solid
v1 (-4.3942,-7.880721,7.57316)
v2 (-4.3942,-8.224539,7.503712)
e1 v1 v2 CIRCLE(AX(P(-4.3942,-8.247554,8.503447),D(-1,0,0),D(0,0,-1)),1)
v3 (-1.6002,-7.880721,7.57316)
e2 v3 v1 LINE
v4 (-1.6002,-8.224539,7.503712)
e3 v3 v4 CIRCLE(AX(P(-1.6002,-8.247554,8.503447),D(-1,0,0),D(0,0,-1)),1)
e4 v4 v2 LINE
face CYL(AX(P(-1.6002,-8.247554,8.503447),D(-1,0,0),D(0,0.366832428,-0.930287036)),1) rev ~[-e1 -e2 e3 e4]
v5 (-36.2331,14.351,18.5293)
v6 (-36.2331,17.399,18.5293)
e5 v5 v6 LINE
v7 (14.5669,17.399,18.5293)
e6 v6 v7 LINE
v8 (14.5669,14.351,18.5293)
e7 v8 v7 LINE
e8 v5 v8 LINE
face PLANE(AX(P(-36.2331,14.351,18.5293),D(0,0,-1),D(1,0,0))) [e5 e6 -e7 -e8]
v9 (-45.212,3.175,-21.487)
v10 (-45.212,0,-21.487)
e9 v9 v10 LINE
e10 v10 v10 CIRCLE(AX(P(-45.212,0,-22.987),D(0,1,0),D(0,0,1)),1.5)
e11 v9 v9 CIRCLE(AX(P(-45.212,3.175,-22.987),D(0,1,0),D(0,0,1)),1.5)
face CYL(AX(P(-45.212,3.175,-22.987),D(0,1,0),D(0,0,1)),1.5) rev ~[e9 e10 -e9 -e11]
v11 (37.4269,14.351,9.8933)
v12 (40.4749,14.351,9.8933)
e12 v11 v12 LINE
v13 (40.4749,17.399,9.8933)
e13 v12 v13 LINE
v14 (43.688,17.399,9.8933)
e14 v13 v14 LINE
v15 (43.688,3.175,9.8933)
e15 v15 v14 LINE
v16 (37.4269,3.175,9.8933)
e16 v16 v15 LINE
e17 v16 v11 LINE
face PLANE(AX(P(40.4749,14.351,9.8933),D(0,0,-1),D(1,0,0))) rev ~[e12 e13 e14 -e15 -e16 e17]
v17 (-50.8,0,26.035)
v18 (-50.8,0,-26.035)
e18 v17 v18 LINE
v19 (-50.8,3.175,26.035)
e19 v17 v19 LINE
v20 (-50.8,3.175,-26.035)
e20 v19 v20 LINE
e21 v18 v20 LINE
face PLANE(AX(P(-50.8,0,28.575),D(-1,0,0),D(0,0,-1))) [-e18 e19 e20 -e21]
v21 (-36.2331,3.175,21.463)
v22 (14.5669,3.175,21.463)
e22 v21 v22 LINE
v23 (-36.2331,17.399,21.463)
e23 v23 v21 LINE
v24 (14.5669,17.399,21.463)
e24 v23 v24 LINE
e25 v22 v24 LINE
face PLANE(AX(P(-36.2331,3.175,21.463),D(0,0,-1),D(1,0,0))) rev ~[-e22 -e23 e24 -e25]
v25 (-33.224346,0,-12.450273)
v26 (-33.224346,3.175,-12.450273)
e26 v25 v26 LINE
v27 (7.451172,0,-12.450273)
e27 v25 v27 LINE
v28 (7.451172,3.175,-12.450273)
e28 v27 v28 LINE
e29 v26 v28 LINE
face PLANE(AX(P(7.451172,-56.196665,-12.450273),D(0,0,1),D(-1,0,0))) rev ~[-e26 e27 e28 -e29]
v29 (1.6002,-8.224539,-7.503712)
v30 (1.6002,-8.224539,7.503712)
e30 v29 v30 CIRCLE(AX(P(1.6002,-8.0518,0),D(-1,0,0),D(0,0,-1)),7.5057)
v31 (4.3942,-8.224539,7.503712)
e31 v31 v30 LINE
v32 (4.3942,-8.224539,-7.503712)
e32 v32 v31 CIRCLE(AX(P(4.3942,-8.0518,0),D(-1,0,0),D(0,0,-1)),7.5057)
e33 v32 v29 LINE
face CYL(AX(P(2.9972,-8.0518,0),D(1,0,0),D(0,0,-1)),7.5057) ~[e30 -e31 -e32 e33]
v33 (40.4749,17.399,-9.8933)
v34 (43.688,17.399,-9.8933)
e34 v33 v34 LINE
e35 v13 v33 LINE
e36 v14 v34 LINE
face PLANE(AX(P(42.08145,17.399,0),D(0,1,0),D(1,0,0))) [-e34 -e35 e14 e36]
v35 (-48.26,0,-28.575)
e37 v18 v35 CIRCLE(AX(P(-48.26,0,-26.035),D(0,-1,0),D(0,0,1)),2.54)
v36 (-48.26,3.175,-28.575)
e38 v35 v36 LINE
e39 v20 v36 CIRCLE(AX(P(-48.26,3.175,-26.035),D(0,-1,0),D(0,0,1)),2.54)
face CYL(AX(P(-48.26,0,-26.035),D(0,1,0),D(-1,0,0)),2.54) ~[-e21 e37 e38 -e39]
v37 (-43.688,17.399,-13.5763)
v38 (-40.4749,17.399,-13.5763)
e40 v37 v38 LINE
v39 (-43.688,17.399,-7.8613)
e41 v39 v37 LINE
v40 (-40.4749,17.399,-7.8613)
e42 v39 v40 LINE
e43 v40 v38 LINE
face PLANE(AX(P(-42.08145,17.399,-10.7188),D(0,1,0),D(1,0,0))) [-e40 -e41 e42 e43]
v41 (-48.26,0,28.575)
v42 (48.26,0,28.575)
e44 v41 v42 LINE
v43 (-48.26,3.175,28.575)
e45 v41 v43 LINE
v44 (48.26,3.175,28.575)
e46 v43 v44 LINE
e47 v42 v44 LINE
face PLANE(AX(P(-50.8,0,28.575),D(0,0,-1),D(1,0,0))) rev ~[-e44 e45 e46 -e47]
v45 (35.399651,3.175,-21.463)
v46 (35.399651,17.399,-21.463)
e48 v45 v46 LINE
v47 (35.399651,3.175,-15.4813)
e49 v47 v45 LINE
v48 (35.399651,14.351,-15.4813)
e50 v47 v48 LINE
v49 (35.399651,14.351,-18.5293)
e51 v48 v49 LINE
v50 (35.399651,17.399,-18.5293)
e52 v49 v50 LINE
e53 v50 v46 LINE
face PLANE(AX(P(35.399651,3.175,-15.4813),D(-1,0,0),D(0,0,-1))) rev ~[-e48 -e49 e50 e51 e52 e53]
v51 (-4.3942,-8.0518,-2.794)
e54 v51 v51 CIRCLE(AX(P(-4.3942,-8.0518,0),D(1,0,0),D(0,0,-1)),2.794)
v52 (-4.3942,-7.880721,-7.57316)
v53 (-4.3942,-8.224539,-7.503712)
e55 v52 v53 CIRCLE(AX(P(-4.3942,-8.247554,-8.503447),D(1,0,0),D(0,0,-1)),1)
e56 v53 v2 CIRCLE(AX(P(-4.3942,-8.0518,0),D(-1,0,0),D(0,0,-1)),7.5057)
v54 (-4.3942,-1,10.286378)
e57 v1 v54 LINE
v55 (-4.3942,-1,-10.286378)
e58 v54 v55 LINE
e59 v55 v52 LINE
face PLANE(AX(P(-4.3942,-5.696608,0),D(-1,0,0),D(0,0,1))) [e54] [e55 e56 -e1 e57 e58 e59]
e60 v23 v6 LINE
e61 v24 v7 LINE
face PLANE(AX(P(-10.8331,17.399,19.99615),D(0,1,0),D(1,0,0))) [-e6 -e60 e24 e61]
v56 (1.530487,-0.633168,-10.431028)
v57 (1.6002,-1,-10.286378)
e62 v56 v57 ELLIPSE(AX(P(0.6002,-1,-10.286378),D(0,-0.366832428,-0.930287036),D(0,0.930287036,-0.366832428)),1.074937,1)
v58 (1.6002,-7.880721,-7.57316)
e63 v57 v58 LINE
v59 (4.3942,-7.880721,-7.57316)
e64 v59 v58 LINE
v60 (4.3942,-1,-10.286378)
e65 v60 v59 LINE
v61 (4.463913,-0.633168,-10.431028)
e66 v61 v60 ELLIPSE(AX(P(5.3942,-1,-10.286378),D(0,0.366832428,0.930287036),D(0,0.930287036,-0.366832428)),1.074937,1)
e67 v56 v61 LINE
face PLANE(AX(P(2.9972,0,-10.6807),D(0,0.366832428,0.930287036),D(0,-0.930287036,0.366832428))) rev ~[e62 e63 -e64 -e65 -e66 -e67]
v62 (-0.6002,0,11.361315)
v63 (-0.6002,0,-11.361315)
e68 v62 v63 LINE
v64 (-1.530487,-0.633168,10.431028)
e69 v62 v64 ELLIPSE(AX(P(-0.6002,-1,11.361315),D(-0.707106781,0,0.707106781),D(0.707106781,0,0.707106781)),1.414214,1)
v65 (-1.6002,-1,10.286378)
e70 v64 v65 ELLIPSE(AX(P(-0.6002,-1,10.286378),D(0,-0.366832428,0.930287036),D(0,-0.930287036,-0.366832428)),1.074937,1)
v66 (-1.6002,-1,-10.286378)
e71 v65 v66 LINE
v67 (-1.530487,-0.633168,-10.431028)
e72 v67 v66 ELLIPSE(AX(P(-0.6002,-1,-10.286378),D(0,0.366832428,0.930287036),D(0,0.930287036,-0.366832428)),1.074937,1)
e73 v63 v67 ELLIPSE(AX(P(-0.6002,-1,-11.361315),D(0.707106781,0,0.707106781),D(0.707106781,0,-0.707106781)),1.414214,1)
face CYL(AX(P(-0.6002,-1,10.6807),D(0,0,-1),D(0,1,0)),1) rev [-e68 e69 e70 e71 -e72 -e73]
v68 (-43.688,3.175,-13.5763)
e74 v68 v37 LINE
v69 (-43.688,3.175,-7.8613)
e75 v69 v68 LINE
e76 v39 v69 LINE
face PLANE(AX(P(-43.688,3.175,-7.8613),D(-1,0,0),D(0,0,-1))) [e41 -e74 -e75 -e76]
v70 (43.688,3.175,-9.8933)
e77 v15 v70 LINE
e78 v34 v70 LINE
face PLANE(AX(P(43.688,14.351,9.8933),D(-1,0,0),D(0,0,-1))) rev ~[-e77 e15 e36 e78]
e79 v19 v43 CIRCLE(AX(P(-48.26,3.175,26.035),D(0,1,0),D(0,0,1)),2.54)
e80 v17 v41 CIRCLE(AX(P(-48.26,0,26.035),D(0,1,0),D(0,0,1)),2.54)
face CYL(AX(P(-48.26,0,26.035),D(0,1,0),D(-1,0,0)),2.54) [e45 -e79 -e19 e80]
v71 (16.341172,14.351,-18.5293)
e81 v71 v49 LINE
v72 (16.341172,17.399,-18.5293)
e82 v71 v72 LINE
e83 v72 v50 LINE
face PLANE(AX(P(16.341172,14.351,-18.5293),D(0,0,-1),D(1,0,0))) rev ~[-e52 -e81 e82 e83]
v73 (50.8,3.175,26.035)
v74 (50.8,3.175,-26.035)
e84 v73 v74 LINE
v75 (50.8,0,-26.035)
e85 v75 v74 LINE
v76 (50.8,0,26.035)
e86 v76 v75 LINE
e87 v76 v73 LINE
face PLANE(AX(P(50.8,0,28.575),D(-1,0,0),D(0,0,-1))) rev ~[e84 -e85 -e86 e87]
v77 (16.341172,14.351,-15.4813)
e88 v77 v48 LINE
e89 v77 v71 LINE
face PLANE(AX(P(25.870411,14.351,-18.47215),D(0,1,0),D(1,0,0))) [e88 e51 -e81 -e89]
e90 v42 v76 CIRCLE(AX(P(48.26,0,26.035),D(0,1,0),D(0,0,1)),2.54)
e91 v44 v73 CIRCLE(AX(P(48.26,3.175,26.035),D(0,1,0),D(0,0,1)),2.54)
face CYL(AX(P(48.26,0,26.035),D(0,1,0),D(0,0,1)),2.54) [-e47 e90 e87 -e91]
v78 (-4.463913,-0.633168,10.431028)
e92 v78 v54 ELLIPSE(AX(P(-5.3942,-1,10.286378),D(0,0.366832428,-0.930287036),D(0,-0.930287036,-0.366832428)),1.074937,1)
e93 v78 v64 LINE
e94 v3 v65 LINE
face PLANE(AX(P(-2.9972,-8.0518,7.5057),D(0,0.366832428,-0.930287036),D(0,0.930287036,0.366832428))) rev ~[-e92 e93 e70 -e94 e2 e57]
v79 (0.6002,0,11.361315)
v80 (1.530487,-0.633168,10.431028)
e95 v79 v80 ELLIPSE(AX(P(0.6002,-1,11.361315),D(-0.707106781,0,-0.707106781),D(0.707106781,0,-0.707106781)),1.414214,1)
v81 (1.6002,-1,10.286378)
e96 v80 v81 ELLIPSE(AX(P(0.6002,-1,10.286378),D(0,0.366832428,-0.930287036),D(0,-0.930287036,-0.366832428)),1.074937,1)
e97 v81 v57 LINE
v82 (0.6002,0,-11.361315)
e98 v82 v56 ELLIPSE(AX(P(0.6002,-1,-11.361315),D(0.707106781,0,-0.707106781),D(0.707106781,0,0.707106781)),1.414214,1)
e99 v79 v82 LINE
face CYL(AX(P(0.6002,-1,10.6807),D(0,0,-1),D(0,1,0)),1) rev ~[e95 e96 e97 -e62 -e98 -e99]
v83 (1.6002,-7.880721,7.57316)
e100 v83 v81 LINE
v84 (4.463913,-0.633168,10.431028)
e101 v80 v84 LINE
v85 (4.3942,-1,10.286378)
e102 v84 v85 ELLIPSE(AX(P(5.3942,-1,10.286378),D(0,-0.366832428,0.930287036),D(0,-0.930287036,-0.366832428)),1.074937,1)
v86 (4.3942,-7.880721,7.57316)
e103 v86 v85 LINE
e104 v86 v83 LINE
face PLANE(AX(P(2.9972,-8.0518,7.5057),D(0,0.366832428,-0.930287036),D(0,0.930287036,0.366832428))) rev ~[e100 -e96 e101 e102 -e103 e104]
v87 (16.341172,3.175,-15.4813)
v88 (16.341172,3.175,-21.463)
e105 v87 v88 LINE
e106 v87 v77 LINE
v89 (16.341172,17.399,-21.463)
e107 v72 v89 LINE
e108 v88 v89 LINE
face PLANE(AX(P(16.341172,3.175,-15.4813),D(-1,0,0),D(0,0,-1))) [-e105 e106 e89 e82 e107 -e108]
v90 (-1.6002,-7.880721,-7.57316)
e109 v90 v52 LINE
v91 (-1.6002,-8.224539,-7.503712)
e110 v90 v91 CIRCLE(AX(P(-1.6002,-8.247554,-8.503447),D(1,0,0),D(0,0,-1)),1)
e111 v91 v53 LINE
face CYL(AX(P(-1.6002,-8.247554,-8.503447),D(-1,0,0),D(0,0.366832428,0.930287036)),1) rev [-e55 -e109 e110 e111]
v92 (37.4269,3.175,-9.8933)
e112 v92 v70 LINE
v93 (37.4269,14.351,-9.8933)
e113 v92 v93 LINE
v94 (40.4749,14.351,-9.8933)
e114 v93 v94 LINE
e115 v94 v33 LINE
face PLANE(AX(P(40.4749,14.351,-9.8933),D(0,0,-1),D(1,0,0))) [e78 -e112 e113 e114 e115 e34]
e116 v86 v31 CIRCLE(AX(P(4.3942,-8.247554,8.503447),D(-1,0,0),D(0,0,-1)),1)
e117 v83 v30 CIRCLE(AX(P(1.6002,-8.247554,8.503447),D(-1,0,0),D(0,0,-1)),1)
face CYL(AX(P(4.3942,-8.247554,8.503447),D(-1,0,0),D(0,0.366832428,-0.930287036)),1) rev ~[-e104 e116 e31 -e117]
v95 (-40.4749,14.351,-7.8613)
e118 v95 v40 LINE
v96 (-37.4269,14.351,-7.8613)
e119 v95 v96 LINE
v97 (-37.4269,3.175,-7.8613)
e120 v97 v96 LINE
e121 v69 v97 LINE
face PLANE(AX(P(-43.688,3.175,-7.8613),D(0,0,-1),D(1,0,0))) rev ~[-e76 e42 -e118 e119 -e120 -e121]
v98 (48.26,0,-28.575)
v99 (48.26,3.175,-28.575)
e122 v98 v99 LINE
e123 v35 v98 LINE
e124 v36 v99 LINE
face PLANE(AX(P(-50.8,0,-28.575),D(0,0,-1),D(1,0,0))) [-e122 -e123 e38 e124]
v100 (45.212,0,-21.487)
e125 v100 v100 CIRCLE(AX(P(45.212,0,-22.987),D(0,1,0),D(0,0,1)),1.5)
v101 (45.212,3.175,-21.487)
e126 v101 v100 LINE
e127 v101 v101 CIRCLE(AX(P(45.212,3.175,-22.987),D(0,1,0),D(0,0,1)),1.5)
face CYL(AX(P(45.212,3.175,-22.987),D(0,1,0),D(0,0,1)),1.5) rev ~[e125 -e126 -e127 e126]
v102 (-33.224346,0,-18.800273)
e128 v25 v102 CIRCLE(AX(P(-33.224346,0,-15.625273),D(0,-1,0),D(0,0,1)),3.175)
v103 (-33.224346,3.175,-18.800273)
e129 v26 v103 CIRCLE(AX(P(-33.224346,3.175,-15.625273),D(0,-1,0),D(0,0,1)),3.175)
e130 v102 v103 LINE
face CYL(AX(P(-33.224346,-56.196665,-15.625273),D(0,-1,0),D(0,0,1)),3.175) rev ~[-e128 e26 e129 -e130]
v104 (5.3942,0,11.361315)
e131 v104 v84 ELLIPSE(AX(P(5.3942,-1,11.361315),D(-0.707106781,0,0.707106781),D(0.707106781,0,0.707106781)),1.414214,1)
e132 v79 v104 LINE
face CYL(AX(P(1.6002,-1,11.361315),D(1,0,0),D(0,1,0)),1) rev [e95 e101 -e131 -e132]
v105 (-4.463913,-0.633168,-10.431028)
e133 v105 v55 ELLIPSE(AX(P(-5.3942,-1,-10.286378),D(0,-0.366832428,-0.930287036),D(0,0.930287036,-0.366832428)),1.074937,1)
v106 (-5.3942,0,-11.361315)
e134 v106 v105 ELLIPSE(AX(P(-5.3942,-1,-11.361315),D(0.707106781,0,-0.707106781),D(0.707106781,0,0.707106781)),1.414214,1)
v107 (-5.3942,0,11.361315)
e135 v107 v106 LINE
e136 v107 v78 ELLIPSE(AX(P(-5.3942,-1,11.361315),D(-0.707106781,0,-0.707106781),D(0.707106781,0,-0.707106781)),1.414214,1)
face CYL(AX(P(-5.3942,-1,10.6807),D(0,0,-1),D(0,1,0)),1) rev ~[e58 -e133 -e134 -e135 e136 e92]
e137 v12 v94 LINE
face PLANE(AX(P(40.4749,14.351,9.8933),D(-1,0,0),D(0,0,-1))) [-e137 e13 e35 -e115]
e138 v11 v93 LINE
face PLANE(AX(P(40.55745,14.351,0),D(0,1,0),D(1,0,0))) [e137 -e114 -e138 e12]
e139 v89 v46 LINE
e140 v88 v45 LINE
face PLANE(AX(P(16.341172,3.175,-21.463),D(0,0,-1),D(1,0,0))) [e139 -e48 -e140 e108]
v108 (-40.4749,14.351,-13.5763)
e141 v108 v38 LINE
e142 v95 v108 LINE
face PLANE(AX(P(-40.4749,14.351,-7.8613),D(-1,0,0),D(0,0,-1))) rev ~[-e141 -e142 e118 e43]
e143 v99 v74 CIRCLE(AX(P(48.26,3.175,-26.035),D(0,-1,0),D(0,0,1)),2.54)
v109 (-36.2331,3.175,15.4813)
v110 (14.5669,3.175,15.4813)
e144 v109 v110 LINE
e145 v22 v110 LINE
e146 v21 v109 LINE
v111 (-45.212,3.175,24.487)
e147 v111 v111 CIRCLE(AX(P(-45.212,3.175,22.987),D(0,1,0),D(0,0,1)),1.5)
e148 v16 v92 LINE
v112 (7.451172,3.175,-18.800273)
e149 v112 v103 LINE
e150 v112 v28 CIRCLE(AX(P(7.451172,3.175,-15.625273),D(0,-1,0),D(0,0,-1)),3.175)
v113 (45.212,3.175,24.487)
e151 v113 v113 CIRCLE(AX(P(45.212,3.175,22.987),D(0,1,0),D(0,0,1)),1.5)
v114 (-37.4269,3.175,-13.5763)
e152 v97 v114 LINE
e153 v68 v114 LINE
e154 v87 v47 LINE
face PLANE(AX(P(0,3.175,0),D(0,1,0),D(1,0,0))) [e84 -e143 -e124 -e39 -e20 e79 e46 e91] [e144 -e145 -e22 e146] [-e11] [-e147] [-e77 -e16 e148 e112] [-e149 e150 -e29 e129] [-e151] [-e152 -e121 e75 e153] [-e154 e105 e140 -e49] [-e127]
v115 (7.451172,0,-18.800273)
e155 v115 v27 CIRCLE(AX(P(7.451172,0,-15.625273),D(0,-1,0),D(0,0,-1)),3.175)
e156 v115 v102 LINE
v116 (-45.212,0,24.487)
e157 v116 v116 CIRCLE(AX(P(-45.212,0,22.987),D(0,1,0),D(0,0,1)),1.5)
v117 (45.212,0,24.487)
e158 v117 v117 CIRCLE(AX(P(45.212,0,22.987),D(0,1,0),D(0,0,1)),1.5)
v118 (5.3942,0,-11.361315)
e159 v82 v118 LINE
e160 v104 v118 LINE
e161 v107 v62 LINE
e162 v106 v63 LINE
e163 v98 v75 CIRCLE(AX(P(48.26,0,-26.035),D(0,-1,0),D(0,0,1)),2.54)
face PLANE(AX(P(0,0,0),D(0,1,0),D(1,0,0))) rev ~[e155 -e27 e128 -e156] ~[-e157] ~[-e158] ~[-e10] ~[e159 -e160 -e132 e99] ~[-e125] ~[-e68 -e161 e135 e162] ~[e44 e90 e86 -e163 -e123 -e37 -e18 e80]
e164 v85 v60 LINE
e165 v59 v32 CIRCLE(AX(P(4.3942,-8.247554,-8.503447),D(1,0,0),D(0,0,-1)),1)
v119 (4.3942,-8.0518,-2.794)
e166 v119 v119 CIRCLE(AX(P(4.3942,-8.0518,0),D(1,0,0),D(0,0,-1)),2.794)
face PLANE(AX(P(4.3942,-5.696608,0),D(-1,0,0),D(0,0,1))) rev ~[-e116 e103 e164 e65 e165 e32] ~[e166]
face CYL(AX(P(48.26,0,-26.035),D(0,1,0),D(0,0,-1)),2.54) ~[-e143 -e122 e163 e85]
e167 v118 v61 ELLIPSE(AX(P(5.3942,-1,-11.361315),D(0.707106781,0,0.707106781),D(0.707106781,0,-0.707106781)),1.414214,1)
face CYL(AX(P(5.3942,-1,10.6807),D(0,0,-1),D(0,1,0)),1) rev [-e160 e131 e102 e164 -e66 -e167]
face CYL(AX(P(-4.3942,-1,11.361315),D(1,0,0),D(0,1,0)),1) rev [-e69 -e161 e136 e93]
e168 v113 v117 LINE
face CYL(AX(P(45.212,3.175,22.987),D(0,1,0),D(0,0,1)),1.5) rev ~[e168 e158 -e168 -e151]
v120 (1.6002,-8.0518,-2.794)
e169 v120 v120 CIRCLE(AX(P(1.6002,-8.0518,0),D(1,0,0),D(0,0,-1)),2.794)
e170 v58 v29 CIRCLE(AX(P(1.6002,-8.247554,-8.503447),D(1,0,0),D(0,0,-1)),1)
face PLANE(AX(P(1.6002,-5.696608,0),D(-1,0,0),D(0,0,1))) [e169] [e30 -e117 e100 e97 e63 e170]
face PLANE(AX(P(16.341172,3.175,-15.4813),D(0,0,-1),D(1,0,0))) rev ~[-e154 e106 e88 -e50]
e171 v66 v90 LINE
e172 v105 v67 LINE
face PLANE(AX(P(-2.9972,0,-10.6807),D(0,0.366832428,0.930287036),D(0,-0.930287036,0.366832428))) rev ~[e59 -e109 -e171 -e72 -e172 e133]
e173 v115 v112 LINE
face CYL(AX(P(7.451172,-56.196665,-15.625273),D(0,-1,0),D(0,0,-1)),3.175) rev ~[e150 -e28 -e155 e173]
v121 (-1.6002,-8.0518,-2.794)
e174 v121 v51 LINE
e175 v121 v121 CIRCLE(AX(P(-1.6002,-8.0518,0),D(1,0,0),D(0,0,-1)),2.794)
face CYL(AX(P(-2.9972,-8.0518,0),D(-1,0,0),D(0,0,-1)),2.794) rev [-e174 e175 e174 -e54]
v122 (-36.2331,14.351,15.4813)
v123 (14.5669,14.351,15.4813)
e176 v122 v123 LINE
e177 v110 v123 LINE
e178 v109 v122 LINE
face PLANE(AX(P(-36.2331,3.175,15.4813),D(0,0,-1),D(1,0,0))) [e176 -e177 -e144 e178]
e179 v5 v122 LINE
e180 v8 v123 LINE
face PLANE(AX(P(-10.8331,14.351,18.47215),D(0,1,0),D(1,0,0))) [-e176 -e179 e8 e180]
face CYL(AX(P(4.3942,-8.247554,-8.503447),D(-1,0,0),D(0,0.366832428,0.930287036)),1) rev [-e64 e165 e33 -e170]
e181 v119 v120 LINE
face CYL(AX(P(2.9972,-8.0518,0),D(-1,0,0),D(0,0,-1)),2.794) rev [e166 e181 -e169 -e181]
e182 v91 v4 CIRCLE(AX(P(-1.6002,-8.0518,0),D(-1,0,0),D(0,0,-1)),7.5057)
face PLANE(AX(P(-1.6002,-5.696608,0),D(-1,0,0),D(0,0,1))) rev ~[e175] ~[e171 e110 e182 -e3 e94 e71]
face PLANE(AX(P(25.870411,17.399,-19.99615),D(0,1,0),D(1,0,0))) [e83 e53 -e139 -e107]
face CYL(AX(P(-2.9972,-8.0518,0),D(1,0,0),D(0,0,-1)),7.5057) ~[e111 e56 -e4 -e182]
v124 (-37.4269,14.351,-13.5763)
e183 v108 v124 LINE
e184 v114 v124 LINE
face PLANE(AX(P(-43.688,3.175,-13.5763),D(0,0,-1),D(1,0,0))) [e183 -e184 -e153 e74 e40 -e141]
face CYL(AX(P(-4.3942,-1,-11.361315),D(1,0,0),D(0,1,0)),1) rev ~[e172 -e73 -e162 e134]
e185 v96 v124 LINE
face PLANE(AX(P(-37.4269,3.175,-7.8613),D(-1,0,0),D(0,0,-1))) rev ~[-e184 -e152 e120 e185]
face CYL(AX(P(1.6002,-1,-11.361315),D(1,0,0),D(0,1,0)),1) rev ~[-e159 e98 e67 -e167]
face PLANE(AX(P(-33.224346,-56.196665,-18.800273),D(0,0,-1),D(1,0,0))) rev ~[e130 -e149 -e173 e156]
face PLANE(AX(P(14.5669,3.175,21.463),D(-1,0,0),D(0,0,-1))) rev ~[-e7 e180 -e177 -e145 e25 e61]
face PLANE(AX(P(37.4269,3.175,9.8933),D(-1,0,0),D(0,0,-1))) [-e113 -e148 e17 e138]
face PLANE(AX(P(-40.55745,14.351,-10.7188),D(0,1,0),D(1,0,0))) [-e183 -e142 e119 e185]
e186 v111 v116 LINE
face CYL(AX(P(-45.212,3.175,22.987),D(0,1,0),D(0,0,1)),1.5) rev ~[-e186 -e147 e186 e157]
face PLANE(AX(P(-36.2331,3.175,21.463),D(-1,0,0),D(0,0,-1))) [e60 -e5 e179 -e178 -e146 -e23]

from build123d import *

# Parameters (mm, degrees)
SKETCH1_W               = 101.6
SKETCH1_H               = 57.15
BOSS_EXTRUDE1_DEPTH     = 3.175
SKETCH10_R              = 1.5
CUT_EXTRUDE3_DEPTH      = 59.371664787
FILLET1_R               = 2.54
CUT_EXTRUDE4_DEPTH      = 59.371664787
CUT_EXTRUDE4_DEPTH_BACK = 59.371664787
SKETCH12_R              = 2.794
BOSS_EXTRUDE3_DEPTH     = 1.397
SKETCH13_R              = 2.794
BOSS_EXTRUDE4_DEPTH     = 1.397
FILLET4_R               = 1
SKETCH14_W              = 50.8
SKETCH14_H              = 5.9817
SKETCH14_W_2            = 19.058479039
SKETCH14_W_3            = 6.2611
SKETCH14_H_2            = 19.7866
SKETCH14_H_3            = 5.715
BOSS_EXTRUDE5_DEPTH     = 11.176
SKETCH15_W              = 3.2131
SKETCH15_H              = 19.7866
SKETCH15_W_2            = 19.058479039
SKETCH15_H_2            = 2.9337
SKETCH15_H_3            = 5.715
SKETCH15_W_3            = 50.8
BOSS_EXTRUDE6_DEPTH     = 3.048


with BuildPart() as part:
    # Sketch1 → Boss-Extrude1 (new body)
    with BuildSketch(Plane(origin=(0, 0, 0), x_dir=(1, 0, 0), z_dir=(0, 1, 0))):
        Rectangle(SKETCH1_W, SKETCH1_H)
    extrude(amount=BOSS_EXTRUDE1_DEPTH)

    # Sketch10 → Cut-Extrude3 (cut, through all)
    with BuildSketch(Plane(origin=(0, 3.175, 0), x_dir=(1, 0, 0), z_dir=(0, 1, 0))):
        with Locations(Location((-45.212, -22.987, 0), (0, 0, 270))):
            Circle(SKETCH10_R)
        with Locations(Location((45.212, 22.987, 0), (0, 0, 270))):
            Circle(SKETCH10_R)
        with Locations(Location((-45.212, 22.987, 0), (0, 0, 270))):
            Circle(SKETCH10_R)
        with Locations(Location((45.212, -22.987, 0), (0, 0, 270))):
            Circle(SKETCH10_R)
    extrude(amount=-CUT_EXTRUDE3_DEPTH, mode=Mode.SUBTRACT)

    # Fillet1
    fillet1_edges = [part.edges().sort_by_distance(p)[0] for p in [
        (-50.8, 1.5875, -28.575),
        (50.8, 1.5875, -28.575),
        (50.8, 1.5875, 28.575),
        (-50.8, 1.5875, 28.575),
    ]]
    fillet(fillet1_edges, radius=FILLET1_R)

    # Sketch11 → Cut-Extrude4 (cut, two sides: drawn at the far end of the back side and taken through both)
    with BuildSketch(Plane(origin=(0, 3.175, 0), x_dir=(1, 0, 0), z_dir=(0, 1, 0)).offset(-CUT_EXTRUDE4_DEPTH_BACK)):
        with BuildLine():
            Line((-33.224345588, 18.800272814), (7.451171928, 18.800272814))
            ThreePointArc((7.451171928, 18.800272814), (10.626171928, 15.625272814), (7.451171928, 12.450272814))
            Line((7.451171928, 12.450272814), (-33.224345588, 12.450272814))
            ThreePointArc((-33.224345588, 12.450272814), (-36.399345588, 15.625272814), (-33.224345588, 18.800272814))
        make_face()
    extrude(amount=CUT_EXTRUDE4_DEPTH + CUT_EXTRUDE4_DEPTH_BACK, mode=Mode.SUBTRACT)

    # Sketch12 → Boss-Extrude3 (add, symmetric)
    with BuildSketch(Plane(origin=(2.9972, 0, 0), x_dir=(0, 0, -1), z_dir=(1, 0, 0))):
        with BuildLine():
            Line((-7.5057, 0), (7.5057, 0))
            Line((7.5057, 0), (10.6807, 0))
            Line((10.6807, 0), (7.5057, -8.0518))
            ThreePointArc((7.5057, -8.0518), (0, -15.5575), (-7.5057, -8.0518))
            Line((-7.5057, -8.0518), (-10.6807, 0))
            Line((-10.6807, 0), (-7.5057, 0))
        make_face()
        with Locations((0, -8.0518)):
            Circle(SKETCH12_R, mode=Mode.SUBTRACT)
    extrude(amount=BOSS_EXTRUDE3_DEPTH, both=True)

    # Sketch13 → Boss-Extrude4 (add, symmetric)
    with BuildSketch(Plane(origin=(-2.9972, 0, 0), x_dir=(0, 0, -1), z_dir=(1, 0, 0))):
        with BuildLine():
            Line((-7.5057, 0), (7.5057, 0))
            Line((7.5057, 0), (10.6807, 0))
            Line((10.6807, 0), (7.5057, -8.0518))
            ThreePointArc((7.5057, -8.0518), (0, -15.5575), (-7.5057, -8.0518))
            Line((-7.5057, -8.0518), (-10.6807, 0))
            Line((-10.6807, 0), (-7.5057, 0))
        make_face()
        with Locations((0, -8.0518)):
            Circle(SKETCH13_R, mode=Mode.SUBTRACT)
    extrude(amount=BOSS_EXTRUDE4_DEPTH, both=True)

    # Fillet4
    fillet4_edges = [part.edges().sort_by_distance(p)[0] for p in [
        (4.3942, 0, 0),
        (2.9972, -8.0518, 7.5057),
        (2.9972, -8.0518, -7.5057),
        (1.6002, 0, 0),
        (2.9972, 0, -10.6807),
        (2.9972, 0, 10.6807),
        (-1.6002, 0, 0),
        (-2.9972, 0, 10.6807),
        (-2.9972, -8.0518, 7.5057),
        (-2.9972, -8.0518, -7.5057),
        (-4.3942, 0, 0),
        (-2.9972, 0, -10.6807),
    ]]
    fillet(fillet4_edges, radius=FILLET4_R)

    # Sketch14 → Boss-Extrude5 (add)
    with BuildSketch(Plane(origin=(0, 3.175, 0), x_dir=(1, 0, 0), z_dir=(0, 1, 0))):
        with Locations((-10.8331, -18.47215)):
            Rectangle(SKETCH14_W, SKETCH14_H)
        with Locations((25.870411448, 18.47215)):
            Rectangle(SKETCH14_W_2, SKETCH14_H)
        with Locations((40.55745, 0)):
            Rectangle(SKETCH14_W_3, SKETCH14_H_2)
        with Locations((-40.55745, 10.7188)):
            Rectangle(SKETCH14_W_3, SKETCH14_H_3)
    extrude(amount=BOSS_EXTRUDE5_DEPTH)

    # Sketch15 → Boss-Extrude6 (add)
    with BuildSketch(Plane(origin=(0, 14.351, 0), x_dir=(1, 0, 0), z_dir=(0, 1, 0))):
        with Locations((42.08145, 0)):
            Rectangle(SKETCH15_W, SKETCH15_H)
        with Locations((25.870411448, 19.99615)):
            Rectangle(SKETCH15_W_2, SKETCH15_H_2)
        with Locations((-42.08145, 10.7188)):
            Rectangle(SKETCH15_W, SKETCH15_H_3)
        with Locations((-10.8331, -19.99615)):
            Rectangle(SKETCH15_W_3, SKETCH15_H_2)
    extrude(amount=BOSS_EXTRUDE6_DEPTH)


solid = part.part
